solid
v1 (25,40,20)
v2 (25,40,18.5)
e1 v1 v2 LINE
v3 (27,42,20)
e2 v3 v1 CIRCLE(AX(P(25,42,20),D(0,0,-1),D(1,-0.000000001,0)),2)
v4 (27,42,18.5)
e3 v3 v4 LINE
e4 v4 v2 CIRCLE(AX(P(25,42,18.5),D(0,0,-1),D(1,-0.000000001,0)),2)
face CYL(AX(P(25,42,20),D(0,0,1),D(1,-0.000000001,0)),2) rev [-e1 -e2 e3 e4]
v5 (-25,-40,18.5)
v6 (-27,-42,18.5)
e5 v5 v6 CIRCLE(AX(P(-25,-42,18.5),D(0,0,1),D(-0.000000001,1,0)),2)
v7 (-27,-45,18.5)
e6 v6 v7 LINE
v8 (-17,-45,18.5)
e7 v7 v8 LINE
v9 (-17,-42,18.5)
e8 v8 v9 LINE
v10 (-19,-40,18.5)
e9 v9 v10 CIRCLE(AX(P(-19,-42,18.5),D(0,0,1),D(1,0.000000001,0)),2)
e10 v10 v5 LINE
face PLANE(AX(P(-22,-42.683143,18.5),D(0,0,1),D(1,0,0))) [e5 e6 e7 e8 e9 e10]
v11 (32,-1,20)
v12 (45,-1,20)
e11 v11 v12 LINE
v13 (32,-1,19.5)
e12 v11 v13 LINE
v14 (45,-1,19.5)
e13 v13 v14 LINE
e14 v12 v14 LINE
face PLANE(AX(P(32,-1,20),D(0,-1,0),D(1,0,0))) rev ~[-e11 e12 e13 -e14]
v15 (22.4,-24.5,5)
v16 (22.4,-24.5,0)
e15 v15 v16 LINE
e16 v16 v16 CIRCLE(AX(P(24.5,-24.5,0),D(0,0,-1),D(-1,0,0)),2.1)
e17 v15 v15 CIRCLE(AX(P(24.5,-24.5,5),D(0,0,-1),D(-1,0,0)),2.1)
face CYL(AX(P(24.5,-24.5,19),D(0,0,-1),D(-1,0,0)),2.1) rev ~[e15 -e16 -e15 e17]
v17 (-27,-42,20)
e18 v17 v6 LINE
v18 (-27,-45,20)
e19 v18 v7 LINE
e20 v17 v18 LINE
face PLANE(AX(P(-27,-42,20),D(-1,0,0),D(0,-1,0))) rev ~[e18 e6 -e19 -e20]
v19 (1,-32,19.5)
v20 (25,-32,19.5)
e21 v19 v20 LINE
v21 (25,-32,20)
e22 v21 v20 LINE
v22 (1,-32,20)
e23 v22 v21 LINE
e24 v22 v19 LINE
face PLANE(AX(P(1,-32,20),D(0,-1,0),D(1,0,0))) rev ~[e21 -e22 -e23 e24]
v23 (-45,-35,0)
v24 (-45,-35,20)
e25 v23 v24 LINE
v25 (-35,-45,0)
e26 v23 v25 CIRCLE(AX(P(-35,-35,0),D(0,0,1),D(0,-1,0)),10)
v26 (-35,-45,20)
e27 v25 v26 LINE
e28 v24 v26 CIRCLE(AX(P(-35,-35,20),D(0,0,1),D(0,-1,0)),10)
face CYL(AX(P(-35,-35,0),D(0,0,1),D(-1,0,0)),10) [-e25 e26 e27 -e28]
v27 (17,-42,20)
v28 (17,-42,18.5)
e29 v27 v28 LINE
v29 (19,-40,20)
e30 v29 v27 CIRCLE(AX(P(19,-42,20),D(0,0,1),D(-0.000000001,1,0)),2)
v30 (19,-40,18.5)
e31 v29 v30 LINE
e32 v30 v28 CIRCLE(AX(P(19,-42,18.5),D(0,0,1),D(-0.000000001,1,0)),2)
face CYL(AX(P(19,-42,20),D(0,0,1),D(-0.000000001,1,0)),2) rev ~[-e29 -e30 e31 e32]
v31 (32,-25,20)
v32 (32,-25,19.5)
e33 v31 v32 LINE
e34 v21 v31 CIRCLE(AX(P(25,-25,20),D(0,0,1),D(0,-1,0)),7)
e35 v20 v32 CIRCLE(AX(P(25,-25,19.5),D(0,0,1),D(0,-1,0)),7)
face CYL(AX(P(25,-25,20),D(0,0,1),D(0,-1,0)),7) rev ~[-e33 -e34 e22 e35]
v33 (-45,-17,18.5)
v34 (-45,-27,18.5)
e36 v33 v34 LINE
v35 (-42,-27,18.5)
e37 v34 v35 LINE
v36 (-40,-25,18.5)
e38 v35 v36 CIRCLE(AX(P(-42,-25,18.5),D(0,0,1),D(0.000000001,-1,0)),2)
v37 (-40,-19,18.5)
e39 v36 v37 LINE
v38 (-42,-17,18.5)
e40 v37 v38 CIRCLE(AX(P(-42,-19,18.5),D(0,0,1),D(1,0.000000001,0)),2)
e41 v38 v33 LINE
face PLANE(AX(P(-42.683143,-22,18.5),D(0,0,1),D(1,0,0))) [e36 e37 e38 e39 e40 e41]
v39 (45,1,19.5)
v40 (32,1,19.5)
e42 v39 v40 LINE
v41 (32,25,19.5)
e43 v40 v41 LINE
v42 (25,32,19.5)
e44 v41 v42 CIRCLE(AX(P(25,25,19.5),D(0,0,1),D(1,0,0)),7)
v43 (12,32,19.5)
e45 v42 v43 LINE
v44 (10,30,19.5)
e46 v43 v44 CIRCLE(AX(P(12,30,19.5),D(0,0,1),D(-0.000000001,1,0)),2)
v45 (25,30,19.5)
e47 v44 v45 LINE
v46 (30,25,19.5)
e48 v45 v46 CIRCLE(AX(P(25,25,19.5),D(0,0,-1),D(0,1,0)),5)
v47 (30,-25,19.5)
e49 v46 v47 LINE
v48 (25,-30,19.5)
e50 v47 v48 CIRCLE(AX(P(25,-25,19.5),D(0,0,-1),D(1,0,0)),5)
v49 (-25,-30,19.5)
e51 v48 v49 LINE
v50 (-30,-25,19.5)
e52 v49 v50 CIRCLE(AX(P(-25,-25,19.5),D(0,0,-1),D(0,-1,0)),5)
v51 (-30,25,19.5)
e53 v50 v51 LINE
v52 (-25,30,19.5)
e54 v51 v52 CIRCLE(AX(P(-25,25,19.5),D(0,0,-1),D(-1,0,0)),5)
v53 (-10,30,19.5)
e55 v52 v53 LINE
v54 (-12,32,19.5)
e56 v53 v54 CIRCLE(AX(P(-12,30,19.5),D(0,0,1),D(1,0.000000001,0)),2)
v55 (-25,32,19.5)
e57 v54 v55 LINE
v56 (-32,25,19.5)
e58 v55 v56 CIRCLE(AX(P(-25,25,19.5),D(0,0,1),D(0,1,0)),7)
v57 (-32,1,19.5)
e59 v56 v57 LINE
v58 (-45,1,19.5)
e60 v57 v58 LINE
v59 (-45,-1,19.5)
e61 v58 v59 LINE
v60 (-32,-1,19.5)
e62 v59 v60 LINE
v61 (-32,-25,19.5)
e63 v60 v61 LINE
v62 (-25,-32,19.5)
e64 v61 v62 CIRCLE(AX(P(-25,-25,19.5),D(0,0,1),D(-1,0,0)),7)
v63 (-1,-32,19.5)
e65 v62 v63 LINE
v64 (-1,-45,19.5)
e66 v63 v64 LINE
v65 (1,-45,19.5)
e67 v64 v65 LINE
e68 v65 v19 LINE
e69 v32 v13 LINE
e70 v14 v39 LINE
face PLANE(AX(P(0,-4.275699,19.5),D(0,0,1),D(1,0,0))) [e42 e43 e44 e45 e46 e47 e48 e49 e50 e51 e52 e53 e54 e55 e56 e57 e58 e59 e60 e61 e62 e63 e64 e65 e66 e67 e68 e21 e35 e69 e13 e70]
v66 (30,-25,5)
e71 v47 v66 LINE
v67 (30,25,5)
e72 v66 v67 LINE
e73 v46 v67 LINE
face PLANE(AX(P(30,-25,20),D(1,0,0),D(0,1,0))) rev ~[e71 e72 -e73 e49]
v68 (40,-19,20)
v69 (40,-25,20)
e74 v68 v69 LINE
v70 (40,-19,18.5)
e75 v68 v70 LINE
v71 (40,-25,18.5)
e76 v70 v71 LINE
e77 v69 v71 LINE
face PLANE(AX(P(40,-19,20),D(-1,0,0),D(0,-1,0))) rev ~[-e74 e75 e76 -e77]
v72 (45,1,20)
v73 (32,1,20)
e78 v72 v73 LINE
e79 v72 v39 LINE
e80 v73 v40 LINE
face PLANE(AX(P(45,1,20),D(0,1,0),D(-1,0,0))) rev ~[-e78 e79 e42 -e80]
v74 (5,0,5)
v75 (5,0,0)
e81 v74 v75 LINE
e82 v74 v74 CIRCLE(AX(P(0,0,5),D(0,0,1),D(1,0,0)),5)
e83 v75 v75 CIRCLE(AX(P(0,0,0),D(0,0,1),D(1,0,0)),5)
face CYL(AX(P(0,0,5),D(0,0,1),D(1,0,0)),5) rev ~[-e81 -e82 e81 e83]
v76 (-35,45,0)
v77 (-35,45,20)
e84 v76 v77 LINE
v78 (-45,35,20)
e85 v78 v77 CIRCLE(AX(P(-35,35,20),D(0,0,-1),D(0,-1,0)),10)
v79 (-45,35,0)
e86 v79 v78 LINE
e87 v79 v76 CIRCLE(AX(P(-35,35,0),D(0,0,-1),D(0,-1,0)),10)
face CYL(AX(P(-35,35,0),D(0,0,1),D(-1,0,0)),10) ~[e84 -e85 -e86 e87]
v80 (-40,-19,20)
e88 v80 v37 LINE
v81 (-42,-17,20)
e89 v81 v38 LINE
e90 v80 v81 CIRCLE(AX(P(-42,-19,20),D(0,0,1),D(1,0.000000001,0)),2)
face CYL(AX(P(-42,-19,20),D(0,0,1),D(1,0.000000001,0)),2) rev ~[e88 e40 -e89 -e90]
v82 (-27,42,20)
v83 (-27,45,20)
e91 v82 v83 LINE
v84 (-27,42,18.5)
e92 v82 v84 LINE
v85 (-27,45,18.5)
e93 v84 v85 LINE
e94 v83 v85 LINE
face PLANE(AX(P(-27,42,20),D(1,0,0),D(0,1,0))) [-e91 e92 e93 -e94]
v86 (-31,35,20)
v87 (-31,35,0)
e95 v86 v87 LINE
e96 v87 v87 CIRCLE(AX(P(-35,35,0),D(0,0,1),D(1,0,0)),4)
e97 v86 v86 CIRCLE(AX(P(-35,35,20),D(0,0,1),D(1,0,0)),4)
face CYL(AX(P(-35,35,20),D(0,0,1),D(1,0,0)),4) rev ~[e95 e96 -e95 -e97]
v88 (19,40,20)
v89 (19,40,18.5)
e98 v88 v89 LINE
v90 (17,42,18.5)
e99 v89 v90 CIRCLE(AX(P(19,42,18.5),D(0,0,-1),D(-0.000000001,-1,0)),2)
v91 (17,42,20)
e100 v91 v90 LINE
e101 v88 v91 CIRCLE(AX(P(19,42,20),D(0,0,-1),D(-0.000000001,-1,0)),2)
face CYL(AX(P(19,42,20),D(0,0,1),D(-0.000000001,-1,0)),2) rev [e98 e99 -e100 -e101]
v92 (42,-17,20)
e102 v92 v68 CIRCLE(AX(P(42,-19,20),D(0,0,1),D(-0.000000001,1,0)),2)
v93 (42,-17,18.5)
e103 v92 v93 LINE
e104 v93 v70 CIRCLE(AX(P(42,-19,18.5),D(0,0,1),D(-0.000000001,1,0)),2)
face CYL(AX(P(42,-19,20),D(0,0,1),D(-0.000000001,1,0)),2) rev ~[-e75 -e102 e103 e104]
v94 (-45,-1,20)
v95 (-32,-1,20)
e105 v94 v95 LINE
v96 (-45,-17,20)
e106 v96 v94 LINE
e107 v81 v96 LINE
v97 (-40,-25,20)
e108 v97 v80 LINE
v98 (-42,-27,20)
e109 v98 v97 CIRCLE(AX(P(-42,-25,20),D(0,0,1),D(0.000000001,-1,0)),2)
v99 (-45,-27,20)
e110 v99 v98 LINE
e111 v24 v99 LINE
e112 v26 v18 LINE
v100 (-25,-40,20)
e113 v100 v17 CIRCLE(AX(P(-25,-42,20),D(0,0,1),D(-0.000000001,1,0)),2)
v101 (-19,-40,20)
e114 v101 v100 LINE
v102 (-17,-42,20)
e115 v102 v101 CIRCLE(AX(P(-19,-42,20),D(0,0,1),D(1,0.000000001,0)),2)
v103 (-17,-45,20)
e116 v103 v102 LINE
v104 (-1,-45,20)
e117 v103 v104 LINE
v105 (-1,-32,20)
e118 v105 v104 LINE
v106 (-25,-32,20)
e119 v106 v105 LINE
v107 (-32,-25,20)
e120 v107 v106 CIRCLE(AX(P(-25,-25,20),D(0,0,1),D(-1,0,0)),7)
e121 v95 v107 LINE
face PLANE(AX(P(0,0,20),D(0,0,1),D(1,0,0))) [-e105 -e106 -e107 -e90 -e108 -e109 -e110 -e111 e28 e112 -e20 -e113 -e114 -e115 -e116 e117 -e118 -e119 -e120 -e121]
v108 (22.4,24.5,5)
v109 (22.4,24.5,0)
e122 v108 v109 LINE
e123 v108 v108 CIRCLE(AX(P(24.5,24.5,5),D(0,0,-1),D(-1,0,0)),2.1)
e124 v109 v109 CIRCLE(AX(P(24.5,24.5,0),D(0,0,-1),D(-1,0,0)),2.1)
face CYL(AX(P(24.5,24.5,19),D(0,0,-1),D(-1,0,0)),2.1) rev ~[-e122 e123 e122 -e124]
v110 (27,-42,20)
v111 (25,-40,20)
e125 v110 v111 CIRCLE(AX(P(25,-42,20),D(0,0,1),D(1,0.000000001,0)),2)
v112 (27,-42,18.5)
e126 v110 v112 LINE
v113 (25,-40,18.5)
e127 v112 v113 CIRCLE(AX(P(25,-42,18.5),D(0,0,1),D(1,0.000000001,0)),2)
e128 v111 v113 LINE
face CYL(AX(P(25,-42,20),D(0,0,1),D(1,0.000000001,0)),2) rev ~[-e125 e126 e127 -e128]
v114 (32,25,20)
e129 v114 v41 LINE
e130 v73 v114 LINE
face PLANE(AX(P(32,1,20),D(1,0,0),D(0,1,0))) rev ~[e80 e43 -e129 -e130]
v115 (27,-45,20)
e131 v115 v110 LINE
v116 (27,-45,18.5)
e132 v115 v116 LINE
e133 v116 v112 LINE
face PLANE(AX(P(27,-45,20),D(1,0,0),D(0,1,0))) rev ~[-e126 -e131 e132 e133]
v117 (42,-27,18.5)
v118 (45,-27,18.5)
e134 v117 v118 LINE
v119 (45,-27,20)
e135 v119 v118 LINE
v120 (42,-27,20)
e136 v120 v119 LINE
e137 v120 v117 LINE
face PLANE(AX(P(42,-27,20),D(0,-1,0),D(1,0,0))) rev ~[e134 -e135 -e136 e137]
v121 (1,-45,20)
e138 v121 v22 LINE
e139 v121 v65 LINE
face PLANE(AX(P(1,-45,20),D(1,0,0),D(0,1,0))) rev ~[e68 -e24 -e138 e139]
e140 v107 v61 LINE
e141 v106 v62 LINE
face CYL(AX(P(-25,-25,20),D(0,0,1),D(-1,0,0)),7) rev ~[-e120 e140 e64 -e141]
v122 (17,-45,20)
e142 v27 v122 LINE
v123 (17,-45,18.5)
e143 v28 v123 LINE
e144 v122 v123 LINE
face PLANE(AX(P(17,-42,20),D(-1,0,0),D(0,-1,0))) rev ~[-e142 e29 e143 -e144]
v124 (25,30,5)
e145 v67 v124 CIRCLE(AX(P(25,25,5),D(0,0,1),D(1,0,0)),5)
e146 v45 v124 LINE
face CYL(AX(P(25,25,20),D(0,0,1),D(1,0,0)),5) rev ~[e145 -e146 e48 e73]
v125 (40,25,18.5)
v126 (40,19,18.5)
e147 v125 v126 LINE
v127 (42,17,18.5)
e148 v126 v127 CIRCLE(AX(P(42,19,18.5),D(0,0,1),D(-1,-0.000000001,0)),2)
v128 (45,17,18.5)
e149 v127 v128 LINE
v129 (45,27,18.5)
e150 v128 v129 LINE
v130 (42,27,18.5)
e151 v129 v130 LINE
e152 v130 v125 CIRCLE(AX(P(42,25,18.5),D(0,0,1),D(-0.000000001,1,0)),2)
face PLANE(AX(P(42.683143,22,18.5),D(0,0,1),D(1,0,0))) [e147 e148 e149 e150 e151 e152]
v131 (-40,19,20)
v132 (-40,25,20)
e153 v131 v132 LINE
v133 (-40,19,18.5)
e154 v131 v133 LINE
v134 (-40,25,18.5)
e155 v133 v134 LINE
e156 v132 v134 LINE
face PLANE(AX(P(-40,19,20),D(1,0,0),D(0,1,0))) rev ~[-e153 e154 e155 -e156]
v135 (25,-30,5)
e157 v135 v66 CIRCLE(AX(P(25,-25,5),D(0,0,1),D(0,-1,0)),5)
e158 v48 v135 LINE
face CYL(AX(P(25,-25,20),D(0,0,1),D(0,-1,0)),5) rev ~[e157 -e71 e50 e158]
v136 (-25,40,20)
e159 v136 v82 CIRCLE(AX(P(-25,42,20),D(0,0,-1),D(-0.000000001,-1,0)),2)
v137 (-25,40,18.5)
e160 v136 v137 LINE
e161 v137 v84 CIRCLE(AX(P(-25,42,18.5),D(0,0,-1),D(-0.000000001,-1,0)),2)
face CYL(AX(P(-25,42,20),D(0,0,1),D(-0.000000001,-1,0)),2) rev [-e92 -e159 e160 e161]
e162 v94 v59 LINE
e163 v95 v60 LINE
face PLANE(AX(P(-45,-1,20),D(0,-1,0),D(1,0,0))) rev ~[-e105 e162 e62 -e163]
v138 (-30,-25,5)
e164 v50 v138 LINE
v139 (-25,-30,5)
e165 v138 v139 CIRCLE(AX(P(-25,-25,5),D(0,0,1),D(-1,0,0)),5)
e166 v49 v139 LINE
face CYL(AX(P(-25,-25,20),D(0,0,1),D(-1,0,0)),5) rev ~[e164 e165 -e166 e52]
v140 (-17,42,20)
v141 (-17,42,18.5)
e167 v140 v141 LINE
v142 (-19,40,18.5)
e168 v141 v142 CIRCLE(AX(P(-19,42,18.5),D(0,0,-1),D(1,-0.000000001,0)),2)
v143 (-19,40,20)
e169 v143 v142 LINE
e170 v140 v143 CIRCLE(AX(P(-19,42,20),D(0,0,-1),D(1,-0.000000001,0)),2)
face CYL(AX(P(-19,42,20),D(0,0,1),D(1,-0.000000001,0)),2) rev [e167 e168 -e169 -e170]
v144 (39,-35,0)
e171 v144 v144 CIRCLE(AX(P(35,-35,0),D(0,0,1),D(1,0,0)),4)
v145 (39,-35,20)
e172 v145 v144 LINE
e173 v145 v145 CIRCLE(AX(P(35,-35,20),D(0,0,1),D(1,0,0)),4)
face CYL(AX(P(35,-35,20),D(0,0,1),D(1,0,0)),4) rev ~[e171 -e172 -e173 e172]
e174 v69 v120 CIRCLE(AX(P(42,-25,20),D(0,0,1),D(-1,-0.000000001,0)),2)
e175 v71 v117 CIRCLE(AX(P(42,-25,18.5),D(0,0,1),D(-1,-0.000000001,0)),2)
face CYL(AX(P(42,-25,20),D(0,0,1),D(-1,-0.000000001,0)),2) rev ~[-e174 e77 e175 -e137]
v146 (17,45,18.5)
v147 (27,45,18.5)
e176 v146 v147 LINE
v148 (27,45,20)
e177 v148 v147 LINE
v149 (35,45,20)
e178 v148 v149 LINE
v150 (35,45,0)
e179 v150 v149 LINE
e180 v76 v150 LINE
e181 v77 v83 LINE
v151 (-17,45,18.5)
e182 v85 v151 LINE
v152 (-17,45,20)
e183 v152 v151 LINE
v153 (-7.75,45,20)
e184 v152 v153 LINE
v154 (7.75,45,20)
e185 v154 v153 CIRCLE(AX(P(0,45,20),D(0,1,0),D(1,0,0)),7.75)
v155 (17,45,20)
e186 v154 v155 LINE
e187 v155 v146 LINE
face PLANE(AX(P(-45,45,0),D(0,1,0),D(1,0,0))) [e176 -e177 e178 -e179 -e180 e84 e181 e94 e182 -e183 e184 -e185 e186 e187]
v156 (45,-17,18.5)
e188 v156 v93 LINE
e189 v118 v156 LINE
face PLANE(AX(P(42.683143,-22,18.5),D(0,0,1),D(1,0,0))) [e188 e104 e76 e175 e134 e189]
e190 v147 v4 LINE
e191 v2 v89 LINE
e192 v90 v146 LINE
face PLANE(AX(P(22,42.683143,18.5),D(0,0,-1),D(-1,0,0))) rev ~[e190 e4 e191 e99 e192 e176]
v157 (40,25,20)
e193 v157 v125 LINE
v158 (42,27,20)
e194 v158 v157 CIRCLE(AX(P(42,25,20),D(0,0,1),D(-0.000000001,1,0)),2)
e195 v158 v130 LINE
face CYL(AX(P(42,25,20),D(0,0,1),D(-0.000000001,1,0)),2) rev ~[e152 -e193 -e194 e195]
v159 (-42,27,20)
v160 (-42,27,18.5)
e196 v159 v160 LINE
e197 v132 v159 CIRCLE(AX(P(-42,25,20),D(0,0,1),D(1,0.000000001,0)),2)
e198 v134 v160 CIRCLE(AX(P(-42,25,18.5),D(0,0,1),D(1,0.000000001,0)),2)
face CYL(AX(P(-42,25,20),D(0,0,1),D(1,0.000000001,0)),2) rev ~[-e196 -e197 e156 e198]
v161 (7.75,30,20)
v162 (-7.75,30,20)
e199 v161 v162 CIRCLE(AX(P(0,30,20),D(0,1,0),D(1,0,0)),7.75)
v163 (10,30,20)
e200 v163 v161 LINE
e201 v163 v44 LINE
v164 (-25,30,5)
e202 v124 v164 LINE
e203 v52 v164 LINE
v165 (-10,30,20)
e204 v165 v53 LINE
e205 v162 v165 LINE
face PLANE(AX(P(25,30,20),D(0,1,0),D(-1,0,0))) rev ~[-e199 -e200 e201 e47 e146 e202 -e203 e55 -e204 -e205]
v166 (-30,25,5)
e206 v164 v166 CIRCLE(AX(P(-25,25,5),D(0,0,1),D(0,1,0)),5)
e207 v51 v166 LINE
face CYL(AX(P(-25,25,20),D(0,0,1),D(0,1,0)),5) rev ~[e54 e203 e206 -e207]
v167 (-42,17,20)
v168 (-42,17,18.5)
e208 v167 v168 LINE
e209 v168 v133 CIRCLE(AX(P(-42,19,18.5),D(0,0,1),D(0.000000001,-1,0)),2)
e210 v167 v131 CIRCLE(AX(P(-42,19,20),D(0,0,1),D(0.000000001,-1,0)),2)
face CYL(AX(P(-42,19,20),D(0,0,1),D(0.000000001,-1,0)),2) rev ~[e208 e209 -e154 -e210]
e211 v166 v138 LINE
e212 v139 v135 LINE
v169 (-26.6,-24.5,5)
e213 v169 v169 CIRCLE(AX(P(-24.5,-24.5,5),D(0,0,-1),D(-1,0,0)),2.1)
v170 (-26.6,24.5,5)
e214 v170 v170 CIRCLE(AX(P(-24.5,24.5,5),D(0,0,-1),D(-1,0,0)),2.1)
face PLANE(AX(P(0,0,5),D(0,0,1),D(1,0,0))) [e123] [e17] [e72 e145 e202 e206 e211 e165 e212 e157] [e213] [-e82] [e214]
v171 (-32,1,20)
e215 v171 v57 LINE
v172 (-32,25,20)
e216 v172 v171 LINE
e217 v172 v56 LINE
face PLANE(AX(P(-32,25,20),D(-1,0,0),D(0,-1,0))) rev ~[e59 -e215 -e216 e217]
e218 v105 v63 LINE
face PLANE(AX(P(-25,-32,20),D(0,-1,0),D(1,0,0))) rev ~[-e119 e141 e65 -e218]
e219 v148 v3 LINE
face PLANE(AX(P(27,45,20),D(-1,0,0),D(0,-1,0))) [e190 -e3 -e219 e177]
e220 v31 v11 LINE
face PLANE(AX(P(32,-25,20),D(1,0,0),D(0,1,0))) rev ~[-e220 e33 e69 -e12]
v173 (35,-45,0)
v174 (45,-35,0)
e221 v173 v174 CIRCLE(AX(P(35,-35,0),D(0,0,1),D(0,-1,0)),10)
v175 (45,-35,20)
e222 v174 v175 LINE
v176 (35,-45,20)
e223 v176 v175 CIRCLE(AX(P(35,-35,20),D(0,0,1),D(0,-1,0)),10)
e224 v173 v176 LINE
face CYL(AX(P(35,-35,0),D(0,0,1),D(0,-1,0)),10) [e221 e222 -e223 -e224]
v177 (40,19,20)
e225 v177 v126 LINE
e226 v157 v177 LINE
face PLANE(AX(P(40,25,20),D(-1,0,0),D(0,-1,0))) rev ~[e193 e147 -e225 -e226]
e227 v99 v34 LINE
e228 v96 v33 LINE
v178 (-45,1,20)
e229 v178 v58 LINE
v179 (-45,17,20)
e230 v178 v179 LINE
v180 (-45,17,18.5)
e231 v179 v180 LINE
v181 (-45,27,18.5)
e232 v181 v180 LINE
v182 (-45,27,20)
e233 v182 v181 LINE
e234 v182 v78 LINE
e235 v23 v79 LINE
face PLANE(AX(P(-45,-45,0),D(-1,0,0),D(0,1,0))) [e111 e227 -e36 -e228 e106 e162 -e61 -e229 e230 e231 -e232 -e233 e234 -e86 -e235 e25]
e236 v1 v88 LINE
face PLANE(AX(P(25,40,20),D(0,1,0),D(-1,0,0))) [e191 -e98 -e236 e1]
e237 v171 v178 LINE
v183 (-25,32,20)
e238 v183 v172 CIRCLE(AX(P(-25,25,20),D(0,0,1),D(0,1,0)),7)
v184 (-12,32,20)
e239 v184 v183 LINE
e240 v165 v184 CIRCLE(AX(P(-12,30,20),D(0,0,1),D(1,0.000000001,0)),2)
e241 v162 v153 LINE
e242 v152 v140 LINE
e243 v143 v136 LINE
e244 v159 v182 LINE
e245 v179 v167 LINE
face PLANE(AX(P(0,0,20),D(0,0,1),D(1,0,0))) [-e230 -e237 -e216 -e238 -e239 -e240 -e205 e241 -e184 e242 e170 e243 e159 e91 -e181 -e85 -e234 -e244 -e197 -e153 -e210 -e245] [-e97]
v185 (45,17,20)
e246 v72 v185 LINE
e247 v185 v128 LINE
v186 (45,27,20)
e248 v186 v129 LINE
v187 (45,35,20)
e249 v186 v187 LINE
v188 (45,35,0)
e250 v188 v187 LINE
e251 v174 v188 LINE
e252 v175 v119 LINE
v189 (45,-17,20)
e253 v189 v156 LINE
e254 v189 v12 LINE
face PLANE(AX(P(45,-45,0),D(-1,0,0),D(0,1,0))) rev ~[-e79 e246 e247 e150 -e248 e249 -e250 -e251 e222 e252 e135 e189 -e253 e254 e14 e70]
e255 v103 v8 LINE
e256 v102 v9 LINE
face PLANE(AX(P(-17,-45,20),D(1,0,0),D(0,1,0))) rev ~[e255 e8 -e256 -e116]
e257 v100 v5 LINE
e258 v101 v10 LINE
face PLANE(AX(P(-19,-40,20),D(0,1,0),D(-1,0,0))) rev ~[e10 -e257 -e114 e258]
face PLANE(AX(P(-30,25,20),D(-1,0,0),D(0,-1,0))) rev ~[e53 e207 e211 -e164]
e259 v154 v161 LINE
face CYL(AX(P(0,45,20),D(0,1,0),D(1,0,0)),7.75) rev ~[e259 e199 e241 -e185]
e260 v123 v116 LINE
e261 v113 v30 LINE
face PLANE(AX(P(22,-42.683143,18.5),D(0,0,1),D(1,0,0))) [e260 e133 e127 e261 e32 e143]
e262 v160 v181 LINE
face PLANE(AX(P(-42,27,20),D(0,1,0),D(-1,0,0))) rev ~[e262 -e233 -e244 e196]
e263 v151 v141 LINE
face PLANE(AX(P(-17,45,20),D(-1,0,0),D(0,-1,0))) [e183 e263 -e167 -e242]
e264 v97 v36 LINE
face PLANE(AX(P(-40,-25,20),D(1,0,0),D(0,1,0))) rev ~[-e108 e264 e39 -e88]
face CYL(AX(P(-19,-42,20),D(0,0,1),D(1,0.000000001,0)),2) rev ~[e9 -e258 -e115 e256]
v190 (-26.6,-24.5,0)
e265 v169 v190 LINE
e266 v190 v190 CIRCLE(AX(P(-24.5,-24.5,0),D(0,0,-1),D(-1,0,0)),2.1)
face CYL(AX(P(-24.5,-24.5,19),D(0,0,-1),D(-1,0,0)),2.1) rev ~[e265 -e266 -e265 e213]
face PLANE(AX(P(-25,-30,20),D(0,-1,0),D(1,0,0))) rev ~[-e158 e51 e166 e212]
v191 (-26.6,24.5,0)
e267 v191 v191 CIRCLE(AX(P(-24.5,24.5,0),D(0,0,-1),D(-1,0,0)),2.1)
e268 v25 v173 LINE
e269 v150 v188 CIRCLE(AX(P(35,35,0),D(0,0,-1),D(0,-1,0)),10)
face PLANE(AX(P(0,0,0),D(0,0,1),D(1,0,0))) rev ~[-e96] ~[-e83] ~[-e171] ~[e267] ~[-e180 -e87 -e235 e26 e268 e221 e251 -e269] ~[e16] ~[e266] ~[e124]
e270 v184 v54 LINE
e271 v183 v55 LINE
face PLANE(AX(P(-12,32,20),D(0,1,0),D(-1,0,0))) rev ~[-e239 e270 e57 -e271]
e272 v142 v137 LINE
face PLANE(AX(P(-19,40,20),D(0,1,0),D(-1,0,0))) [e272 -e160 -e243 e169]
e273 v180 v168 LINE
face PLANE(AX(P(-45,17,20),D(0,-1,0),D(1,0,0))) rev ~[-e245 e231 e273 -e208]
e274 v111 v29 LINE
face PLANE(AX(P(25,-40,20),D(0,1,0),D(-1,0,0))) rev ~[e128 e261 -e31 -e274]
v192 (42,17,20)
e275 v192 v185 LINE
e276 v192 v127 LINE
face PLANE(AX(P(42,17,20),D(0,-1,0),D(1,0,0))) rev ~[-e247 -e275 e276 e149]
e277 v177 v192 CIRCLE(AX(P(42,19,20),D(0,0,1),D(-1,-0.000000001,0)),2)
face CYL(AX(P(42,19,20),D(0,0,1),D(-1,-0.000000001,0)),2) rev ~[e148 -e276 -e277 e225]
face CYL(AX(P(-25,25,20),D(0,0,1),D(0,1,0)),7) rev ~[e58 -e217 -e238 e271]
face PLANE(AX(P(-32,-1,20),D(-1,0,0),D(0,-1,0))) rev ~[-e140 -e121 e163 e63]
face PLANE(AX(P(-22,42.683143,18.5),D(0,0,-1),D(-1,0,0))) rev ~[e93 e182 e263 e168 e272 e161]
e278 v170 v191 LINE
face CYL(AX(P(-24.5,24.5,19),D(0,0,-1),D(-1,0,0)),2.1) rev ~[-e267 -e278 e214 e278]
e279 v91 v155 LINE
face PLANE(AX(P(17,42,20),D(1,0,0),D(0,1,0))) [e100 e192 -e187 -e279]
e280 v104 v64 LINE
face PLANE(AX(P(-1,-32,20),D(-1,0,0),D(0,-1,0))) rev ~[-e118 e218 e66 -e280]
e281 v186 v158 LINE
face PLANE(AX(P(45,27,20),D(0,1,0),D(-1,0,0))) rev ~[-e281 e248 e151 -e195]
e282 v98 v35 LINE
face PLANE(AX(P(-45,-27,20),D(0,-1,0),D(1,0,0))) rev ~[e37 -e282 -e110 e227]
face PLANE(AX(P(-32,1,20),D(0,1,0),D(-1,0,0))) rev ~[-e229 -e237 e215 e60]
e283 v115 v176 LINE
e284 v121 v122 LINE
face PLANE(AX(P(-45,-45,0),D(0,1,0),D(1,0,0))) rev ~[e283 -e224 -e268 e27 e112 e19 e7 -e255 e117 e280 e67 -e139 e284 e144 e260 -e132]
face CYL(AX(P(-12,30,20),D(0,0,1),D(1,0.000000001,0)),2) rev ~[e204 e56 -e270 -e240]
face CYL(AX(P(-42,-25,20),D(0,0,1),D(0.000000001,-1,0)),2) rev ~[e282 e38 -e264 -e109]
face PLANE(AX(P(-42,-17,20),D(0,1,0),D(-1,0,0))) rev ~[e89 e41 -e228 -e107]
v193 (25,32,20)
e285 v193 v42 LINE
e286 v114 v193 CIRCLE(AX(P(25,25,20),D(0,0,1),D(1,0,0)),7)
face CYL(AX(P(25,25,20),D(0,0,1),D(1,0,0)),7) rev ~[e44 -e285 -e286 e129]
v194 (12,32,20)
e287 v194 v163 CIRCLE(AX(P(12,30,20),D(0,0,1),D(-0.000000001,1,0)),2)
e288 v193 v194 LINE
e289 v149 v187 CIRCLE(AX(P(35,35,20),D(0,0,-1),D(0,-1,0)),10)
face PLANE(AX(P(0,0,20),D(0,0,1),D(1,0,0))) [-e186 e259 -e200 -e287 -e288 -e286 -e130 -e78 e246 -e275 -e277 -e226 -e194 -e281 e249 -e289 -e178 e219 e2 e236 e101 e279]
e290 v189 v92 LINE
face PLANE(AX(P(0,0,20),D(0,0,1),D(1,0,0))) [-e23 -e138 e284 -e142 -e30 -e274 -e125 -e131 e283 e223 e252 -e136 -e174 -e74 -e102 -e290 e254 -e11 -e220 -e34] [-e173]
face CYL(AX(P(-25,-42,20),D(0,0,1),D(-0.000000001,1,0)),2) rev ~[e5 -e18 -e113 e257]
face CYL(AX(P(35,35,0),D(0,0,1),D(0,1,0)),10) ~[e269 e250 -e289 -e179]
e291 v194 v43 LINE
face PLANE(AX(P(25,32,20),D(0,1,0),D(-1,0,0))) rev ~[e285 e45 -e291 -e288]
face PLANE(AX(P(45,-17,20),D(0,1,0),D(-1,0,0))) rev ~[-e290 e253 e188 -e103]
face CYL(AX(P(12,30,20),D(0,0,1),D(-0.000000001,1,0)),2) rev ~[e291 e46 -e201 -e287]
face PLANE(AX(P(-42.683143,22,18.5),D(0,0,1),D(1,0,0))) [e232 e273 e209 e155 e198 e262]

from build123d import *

# Parameters (mm, degrees)
ESQUISSE1_W             = 90
ESQUISSE1_H             = 90
BOSS_EXTRU_1_DEPTH      = 20
ENL_V_MAT_EXTRU_1_DEPTH = 15
ENL_V_MAT_EXTRU_2_DEPTH = 0.5
CONG_1_R                = 10
ESQUISSE6_R             = 4
ENL_V_MAT_EXTRU_4_DEPTH = 21
ESQUISSE7_R             = 5
ENL_V_MAT_EXTRU_5_DEPTH = 6
ENL_V_MAT_EXTRU_6_DEPTH = 1.5
TROU_TARAUD_M51_D       = 4.2
TROU_TARAUD_M51_DEPTH   = 14
TROU_TARAUD_M51_TIP     = 1.2618073
ENL_V_MAT_EXTRU_7_REACH = 92
ESQUISSE4_R             = 7.75


with BuildPart() as part:
    # Esquisse1 → Boss.-Extru.1 (new body)
    with BuildSketch(Plane.XY):
        Rectangle(ESQUISSE1_W, ESQUISSE1_H)
    extrude(amount=BOSS_EXTRU_1_DEPTH)

    # Esquisse2 → Enlèv. mat.-Extru.1 (cut)
    with BuildSketch(Plane.XY.offset(20)):
        with BuildLine():
            Line((-25, -30), (25, -30))
            ThreePointArc((25, -30), (28.535533906, -28.535533906), (30, -25))
            Line((30, -25), (30, 25))
            ThreePointArc((30, 25), (28.535533906, 28.535533906), (25, 30))
            Line((25, 30), (-25, 30))
            ThreePointArc((-25, 30), (-28.535533906, 28.535533906), (-30, 25))
            Line((-30, 25), (-30, -25))
            ThreePointArc((-30, -25), (-28.535533906, -28.535533906), (-25, -30))
        make_face()
    extrude(amount=-ENL_V_MAT_EXTRU_1_DEPTH, mode=Mode.SUBTRACT)

    # Esquisse3 → Enlèv. mat.-Extru.2 (cut)
    with BuildSketch(Plane.XY.offset(20)):
        with BuildLine():
            Line((25, 32), (12, 32))
            ThreePointArc((12, 32), (10.585786438, 31.414213562), (10, 30))
            Line((10, 30), (25, 30))
            ThreePointArc((25, 30), (28.535533906, 28.535533906), (30, 25))
            Line((30, 25), (30, -25))
            ThreePointArc((30, -25), (28.535533906, -28.535533906), (25, -30))
            Line((25, -30), (-25, -30))
            ThreePointArc((-25, -30), (-28.535533906, -28.535533906), (-30, -25))
            Line((-30, -25), (-30, 25))
            ThreePointArc((-30, 25), (-28.535533906, 28.535533906), (-25, 30))
            Line((-25, 30), (-10, 30))
            ThreePointArc((-10, 30), (-10.585786437, 31.414213561), (-11.999999997, 32))
            Line((-11.999999997, 32), (-25, 32))
            ThreePointArc((-25, 32), (-29.949747468, 29.949747468), (-32, 25))
            Line((-32, 25), (-32, 1))
            Line((-32, 1), (-45, 1))
            Line((-45, 1), (-45, -1))
            Line((-45, -1), (-32, -1))
            Line((-32, -1), (-32, -25))
            ThreePointArc((-32, -25), (-29.949747468, -29.949747468), (-25, -32))
            Line((-25, -32), (-1, -32))
            Line((-1, -32), (-1, -45))
            Line((-1, -45), (1, -45))
            Line((1, -45), (1, -32))
            Line((1, -32), (25, -32))
            ThreePointArc((25, -32), (29.949747468, -29.949747468), (32, -25))
            Line((32, -25), (32, -1))
            Line((32, -1), (45, -1))
            Line((45, -1), (45, 1))
            Line((45, 1), (32, 1))
            Line((32, 1), (32, 25))
            ThreePointArc((32, 25), (29.949747468, 29.949747468), (25, 32))
        make_face()
    extrude(amount=-ENL_V_MAT_EXTRU_2_DEPTH, mode=Mode.SUBTRACT)

    # Congé1
    cong_1_edges = [part.edges().sort_by_distance(p)[0] for p in [
        (45, -45, 10),
        (-45, -45, 10),
        (-45, 45, 10),
        (45, 45, 10),
    ]]
    fillet(cong_1_edges, radius=CONG_1_R)

    # Esquisse6 → Enlèv. mat.-Extru.4 (cut, through all)
    with BuildSketch(Plane.XY.offset(20)):
        with Locations((-35, 35)):
            Circle(ESQUISSE6_R)
        with Locations((35, -35)):
            Circle(ESQUISSE6_R)
    extrude(amount=-ENL_V_MAT_EXTRU_4_DEPTH, mode=Mode.SUBTRACT)

    # Esquisse7 → Enlèv. mat.-Extru.5 (cut, through all)
    with BuildSketch(Plane.XY.offset(5)):
        Circle(ESQUISSE7_R)
    extrude(amount=-ENL_V_MAT_EXTRU_5_DEPTH, mode=Mode.SUBTRACT)

    # Esquisse8 → Enlèv. mat.-Extru.6 (cut)
    with BuildSketch(Plane.XY.offset(20)):
        with BuildLine():
            Line((-27, 45), (-17, 45))
            Line((-17, 45), (-17, 42))
            ThreePointArc((-17, 42), (-17.585786438, 40.585786438), (-19, 40))
            Line((-19, 40), (-25, 40))
            ThreePointArc((-25, 40), (-26.414213562, 40.585786438), (-27, 42))
            Line((-27, 42), (-27, 45))
        make_face()
        with BuildLine():
            Line((17, 45), (27, 45))
            Line((27, 45), (27, 42))
            ThreePointArc((27, 42), (26.414213562, 40.585786438), (25, 40))
            Line((25, 40), (19, 40))
            ThreePointArc((19, 40), (17.585786438, 40.585786438), (17, 42))
            Line((17, 42), (17, 45))
        make_face()
        with BuildLine():
            Line((45, 27), (42, 27))
            ThreePointArc((42, 27), (40.585786438, 26.414213562), (40, 25))
            Line((40, 25), (40, 19))
            ThreePointArc((40, 19), (40.585786438, 17.585786438), (42, 17))
            Line((42, 17), (45, 17))
            Line((45, 17), (45, 27))
        make_face()
        with BuildLine():
            Line((45, -17), (42, -17))
            ThreePointArc((42, -17), (40.585786438, -17.585786438), (40, -19))
            Line((40, -19), (40, -25))
            ThreePointArc((40, -25), (40.585786438, -26.414213562), (42, -27))
            Line((42, -27), (45, -27))
            Line((45, -27), (45, -17))
        make_face()
        with BuildLine():
            Line((27, -45), (27, -42))
            ThreePointArc((27, -42), (26.414213562, -40.585786438), (25, -40))
            Line((25, -40), (19, -40))
            ThreePointArc((19, -40), (17.585786438, -40.585786438), (17, -42))
            Line((17, -42), (17, -45))
            Line((17, -45), (27, -45))
        make_face()
        with BuildLine():
            Line((-17, -45), (-17, -42))
            ThreePointArc((-17, -42), (-17.585786438, -40.585786438), (-19, -40))
            Line((-19, -40), (-25, -40))
            ThreePointArc((-25, -40), (-26.414213562, -40.585786438), (-27, -42))
            Line((-27, -42), (-27, -45))
            Line((-27, -45), (-17, -45))
        make_face()
        with BuildLine():
            Line((-45, -27), (-42, -27))
            ThreePointArc((-42, -27), (-40.585786438, -26.414213562), (-40, -25))
            Line((-40, -25), (-40, -19))
            ThreePointArc((-40, -19), (-40.585786438, -17.585786438), (-42, -17))
            Line((-42, -17), (-45, -17))
            Line((-45, -17), (-45, -27))
        make_face()
        with BuildLine():
            Line((-45, 17), (-42, 17))
            ThreePointArc((-42, 17), (-40.585786438, 17.585786438), (-40, 19))
            Line((-40, 19), (-40, 25))
            ThreePointArc((-40, 25), (-40.585786438, 26.414213562), (-42, 27))
            Line((-42, 27), (-45, 27))
            Line((-45, 27), (-45, 17))
        make_face()
    extrude(amount=-ENL_V_MAT_EXTRU_6_DEPTH, mode=Mode.SUBTRACT)

    # Trou taraudé M51
    with Locations(Plane(origin=(-24.5, 24.5, 5), x_dir=(1, 0, 0), z_dir=(0, 0, 1))):
        with Locations((0, 0), (49, 0), (49, -49), (0, -49)):
            Hole(TROU_TARAUD_M51_D / 2, depth=TROU_TARAUD_M51_DEPTH)
            with Locations((0, 0, -(TROU_TARAUD_M51_DEPTH + TROU_TARAUD_M51_TIP / 2))):  # 118° drill point
                Cone(0, TROU_TARAUD_M51_D / 2, TROU_TARAUD_M51_TIP, mode=Mode.SUBTRACT)

    # Esquisse4 → Enlèv. mat.-Extru.7 (cut, up to next)
    with BuildSketch(Plane(origin=(0, 45, 0), x_dir=(1, 0, 0), z_dir=(0, 1, 0)), mode=Mode.PRIVATE) as enl_v_mat_extru_7_sk1:
        with Locations((0, -20)):
            Circle(ESQUISSE4_R)
    enl_v_mat_extru_7_tool1 = extrude(enl_v_mat_extru_7_sk1.sketch, amount=-ENL_V_MAT_EXTRU_7_REACH, mode=Mode.PRIVATE) & part.part
    add(enl_v_mat_extru_7_tool1.solids().sort_by_distance((0, 45, 20))[0], mode=Mode.SUBTRACT)


solid = part.part
